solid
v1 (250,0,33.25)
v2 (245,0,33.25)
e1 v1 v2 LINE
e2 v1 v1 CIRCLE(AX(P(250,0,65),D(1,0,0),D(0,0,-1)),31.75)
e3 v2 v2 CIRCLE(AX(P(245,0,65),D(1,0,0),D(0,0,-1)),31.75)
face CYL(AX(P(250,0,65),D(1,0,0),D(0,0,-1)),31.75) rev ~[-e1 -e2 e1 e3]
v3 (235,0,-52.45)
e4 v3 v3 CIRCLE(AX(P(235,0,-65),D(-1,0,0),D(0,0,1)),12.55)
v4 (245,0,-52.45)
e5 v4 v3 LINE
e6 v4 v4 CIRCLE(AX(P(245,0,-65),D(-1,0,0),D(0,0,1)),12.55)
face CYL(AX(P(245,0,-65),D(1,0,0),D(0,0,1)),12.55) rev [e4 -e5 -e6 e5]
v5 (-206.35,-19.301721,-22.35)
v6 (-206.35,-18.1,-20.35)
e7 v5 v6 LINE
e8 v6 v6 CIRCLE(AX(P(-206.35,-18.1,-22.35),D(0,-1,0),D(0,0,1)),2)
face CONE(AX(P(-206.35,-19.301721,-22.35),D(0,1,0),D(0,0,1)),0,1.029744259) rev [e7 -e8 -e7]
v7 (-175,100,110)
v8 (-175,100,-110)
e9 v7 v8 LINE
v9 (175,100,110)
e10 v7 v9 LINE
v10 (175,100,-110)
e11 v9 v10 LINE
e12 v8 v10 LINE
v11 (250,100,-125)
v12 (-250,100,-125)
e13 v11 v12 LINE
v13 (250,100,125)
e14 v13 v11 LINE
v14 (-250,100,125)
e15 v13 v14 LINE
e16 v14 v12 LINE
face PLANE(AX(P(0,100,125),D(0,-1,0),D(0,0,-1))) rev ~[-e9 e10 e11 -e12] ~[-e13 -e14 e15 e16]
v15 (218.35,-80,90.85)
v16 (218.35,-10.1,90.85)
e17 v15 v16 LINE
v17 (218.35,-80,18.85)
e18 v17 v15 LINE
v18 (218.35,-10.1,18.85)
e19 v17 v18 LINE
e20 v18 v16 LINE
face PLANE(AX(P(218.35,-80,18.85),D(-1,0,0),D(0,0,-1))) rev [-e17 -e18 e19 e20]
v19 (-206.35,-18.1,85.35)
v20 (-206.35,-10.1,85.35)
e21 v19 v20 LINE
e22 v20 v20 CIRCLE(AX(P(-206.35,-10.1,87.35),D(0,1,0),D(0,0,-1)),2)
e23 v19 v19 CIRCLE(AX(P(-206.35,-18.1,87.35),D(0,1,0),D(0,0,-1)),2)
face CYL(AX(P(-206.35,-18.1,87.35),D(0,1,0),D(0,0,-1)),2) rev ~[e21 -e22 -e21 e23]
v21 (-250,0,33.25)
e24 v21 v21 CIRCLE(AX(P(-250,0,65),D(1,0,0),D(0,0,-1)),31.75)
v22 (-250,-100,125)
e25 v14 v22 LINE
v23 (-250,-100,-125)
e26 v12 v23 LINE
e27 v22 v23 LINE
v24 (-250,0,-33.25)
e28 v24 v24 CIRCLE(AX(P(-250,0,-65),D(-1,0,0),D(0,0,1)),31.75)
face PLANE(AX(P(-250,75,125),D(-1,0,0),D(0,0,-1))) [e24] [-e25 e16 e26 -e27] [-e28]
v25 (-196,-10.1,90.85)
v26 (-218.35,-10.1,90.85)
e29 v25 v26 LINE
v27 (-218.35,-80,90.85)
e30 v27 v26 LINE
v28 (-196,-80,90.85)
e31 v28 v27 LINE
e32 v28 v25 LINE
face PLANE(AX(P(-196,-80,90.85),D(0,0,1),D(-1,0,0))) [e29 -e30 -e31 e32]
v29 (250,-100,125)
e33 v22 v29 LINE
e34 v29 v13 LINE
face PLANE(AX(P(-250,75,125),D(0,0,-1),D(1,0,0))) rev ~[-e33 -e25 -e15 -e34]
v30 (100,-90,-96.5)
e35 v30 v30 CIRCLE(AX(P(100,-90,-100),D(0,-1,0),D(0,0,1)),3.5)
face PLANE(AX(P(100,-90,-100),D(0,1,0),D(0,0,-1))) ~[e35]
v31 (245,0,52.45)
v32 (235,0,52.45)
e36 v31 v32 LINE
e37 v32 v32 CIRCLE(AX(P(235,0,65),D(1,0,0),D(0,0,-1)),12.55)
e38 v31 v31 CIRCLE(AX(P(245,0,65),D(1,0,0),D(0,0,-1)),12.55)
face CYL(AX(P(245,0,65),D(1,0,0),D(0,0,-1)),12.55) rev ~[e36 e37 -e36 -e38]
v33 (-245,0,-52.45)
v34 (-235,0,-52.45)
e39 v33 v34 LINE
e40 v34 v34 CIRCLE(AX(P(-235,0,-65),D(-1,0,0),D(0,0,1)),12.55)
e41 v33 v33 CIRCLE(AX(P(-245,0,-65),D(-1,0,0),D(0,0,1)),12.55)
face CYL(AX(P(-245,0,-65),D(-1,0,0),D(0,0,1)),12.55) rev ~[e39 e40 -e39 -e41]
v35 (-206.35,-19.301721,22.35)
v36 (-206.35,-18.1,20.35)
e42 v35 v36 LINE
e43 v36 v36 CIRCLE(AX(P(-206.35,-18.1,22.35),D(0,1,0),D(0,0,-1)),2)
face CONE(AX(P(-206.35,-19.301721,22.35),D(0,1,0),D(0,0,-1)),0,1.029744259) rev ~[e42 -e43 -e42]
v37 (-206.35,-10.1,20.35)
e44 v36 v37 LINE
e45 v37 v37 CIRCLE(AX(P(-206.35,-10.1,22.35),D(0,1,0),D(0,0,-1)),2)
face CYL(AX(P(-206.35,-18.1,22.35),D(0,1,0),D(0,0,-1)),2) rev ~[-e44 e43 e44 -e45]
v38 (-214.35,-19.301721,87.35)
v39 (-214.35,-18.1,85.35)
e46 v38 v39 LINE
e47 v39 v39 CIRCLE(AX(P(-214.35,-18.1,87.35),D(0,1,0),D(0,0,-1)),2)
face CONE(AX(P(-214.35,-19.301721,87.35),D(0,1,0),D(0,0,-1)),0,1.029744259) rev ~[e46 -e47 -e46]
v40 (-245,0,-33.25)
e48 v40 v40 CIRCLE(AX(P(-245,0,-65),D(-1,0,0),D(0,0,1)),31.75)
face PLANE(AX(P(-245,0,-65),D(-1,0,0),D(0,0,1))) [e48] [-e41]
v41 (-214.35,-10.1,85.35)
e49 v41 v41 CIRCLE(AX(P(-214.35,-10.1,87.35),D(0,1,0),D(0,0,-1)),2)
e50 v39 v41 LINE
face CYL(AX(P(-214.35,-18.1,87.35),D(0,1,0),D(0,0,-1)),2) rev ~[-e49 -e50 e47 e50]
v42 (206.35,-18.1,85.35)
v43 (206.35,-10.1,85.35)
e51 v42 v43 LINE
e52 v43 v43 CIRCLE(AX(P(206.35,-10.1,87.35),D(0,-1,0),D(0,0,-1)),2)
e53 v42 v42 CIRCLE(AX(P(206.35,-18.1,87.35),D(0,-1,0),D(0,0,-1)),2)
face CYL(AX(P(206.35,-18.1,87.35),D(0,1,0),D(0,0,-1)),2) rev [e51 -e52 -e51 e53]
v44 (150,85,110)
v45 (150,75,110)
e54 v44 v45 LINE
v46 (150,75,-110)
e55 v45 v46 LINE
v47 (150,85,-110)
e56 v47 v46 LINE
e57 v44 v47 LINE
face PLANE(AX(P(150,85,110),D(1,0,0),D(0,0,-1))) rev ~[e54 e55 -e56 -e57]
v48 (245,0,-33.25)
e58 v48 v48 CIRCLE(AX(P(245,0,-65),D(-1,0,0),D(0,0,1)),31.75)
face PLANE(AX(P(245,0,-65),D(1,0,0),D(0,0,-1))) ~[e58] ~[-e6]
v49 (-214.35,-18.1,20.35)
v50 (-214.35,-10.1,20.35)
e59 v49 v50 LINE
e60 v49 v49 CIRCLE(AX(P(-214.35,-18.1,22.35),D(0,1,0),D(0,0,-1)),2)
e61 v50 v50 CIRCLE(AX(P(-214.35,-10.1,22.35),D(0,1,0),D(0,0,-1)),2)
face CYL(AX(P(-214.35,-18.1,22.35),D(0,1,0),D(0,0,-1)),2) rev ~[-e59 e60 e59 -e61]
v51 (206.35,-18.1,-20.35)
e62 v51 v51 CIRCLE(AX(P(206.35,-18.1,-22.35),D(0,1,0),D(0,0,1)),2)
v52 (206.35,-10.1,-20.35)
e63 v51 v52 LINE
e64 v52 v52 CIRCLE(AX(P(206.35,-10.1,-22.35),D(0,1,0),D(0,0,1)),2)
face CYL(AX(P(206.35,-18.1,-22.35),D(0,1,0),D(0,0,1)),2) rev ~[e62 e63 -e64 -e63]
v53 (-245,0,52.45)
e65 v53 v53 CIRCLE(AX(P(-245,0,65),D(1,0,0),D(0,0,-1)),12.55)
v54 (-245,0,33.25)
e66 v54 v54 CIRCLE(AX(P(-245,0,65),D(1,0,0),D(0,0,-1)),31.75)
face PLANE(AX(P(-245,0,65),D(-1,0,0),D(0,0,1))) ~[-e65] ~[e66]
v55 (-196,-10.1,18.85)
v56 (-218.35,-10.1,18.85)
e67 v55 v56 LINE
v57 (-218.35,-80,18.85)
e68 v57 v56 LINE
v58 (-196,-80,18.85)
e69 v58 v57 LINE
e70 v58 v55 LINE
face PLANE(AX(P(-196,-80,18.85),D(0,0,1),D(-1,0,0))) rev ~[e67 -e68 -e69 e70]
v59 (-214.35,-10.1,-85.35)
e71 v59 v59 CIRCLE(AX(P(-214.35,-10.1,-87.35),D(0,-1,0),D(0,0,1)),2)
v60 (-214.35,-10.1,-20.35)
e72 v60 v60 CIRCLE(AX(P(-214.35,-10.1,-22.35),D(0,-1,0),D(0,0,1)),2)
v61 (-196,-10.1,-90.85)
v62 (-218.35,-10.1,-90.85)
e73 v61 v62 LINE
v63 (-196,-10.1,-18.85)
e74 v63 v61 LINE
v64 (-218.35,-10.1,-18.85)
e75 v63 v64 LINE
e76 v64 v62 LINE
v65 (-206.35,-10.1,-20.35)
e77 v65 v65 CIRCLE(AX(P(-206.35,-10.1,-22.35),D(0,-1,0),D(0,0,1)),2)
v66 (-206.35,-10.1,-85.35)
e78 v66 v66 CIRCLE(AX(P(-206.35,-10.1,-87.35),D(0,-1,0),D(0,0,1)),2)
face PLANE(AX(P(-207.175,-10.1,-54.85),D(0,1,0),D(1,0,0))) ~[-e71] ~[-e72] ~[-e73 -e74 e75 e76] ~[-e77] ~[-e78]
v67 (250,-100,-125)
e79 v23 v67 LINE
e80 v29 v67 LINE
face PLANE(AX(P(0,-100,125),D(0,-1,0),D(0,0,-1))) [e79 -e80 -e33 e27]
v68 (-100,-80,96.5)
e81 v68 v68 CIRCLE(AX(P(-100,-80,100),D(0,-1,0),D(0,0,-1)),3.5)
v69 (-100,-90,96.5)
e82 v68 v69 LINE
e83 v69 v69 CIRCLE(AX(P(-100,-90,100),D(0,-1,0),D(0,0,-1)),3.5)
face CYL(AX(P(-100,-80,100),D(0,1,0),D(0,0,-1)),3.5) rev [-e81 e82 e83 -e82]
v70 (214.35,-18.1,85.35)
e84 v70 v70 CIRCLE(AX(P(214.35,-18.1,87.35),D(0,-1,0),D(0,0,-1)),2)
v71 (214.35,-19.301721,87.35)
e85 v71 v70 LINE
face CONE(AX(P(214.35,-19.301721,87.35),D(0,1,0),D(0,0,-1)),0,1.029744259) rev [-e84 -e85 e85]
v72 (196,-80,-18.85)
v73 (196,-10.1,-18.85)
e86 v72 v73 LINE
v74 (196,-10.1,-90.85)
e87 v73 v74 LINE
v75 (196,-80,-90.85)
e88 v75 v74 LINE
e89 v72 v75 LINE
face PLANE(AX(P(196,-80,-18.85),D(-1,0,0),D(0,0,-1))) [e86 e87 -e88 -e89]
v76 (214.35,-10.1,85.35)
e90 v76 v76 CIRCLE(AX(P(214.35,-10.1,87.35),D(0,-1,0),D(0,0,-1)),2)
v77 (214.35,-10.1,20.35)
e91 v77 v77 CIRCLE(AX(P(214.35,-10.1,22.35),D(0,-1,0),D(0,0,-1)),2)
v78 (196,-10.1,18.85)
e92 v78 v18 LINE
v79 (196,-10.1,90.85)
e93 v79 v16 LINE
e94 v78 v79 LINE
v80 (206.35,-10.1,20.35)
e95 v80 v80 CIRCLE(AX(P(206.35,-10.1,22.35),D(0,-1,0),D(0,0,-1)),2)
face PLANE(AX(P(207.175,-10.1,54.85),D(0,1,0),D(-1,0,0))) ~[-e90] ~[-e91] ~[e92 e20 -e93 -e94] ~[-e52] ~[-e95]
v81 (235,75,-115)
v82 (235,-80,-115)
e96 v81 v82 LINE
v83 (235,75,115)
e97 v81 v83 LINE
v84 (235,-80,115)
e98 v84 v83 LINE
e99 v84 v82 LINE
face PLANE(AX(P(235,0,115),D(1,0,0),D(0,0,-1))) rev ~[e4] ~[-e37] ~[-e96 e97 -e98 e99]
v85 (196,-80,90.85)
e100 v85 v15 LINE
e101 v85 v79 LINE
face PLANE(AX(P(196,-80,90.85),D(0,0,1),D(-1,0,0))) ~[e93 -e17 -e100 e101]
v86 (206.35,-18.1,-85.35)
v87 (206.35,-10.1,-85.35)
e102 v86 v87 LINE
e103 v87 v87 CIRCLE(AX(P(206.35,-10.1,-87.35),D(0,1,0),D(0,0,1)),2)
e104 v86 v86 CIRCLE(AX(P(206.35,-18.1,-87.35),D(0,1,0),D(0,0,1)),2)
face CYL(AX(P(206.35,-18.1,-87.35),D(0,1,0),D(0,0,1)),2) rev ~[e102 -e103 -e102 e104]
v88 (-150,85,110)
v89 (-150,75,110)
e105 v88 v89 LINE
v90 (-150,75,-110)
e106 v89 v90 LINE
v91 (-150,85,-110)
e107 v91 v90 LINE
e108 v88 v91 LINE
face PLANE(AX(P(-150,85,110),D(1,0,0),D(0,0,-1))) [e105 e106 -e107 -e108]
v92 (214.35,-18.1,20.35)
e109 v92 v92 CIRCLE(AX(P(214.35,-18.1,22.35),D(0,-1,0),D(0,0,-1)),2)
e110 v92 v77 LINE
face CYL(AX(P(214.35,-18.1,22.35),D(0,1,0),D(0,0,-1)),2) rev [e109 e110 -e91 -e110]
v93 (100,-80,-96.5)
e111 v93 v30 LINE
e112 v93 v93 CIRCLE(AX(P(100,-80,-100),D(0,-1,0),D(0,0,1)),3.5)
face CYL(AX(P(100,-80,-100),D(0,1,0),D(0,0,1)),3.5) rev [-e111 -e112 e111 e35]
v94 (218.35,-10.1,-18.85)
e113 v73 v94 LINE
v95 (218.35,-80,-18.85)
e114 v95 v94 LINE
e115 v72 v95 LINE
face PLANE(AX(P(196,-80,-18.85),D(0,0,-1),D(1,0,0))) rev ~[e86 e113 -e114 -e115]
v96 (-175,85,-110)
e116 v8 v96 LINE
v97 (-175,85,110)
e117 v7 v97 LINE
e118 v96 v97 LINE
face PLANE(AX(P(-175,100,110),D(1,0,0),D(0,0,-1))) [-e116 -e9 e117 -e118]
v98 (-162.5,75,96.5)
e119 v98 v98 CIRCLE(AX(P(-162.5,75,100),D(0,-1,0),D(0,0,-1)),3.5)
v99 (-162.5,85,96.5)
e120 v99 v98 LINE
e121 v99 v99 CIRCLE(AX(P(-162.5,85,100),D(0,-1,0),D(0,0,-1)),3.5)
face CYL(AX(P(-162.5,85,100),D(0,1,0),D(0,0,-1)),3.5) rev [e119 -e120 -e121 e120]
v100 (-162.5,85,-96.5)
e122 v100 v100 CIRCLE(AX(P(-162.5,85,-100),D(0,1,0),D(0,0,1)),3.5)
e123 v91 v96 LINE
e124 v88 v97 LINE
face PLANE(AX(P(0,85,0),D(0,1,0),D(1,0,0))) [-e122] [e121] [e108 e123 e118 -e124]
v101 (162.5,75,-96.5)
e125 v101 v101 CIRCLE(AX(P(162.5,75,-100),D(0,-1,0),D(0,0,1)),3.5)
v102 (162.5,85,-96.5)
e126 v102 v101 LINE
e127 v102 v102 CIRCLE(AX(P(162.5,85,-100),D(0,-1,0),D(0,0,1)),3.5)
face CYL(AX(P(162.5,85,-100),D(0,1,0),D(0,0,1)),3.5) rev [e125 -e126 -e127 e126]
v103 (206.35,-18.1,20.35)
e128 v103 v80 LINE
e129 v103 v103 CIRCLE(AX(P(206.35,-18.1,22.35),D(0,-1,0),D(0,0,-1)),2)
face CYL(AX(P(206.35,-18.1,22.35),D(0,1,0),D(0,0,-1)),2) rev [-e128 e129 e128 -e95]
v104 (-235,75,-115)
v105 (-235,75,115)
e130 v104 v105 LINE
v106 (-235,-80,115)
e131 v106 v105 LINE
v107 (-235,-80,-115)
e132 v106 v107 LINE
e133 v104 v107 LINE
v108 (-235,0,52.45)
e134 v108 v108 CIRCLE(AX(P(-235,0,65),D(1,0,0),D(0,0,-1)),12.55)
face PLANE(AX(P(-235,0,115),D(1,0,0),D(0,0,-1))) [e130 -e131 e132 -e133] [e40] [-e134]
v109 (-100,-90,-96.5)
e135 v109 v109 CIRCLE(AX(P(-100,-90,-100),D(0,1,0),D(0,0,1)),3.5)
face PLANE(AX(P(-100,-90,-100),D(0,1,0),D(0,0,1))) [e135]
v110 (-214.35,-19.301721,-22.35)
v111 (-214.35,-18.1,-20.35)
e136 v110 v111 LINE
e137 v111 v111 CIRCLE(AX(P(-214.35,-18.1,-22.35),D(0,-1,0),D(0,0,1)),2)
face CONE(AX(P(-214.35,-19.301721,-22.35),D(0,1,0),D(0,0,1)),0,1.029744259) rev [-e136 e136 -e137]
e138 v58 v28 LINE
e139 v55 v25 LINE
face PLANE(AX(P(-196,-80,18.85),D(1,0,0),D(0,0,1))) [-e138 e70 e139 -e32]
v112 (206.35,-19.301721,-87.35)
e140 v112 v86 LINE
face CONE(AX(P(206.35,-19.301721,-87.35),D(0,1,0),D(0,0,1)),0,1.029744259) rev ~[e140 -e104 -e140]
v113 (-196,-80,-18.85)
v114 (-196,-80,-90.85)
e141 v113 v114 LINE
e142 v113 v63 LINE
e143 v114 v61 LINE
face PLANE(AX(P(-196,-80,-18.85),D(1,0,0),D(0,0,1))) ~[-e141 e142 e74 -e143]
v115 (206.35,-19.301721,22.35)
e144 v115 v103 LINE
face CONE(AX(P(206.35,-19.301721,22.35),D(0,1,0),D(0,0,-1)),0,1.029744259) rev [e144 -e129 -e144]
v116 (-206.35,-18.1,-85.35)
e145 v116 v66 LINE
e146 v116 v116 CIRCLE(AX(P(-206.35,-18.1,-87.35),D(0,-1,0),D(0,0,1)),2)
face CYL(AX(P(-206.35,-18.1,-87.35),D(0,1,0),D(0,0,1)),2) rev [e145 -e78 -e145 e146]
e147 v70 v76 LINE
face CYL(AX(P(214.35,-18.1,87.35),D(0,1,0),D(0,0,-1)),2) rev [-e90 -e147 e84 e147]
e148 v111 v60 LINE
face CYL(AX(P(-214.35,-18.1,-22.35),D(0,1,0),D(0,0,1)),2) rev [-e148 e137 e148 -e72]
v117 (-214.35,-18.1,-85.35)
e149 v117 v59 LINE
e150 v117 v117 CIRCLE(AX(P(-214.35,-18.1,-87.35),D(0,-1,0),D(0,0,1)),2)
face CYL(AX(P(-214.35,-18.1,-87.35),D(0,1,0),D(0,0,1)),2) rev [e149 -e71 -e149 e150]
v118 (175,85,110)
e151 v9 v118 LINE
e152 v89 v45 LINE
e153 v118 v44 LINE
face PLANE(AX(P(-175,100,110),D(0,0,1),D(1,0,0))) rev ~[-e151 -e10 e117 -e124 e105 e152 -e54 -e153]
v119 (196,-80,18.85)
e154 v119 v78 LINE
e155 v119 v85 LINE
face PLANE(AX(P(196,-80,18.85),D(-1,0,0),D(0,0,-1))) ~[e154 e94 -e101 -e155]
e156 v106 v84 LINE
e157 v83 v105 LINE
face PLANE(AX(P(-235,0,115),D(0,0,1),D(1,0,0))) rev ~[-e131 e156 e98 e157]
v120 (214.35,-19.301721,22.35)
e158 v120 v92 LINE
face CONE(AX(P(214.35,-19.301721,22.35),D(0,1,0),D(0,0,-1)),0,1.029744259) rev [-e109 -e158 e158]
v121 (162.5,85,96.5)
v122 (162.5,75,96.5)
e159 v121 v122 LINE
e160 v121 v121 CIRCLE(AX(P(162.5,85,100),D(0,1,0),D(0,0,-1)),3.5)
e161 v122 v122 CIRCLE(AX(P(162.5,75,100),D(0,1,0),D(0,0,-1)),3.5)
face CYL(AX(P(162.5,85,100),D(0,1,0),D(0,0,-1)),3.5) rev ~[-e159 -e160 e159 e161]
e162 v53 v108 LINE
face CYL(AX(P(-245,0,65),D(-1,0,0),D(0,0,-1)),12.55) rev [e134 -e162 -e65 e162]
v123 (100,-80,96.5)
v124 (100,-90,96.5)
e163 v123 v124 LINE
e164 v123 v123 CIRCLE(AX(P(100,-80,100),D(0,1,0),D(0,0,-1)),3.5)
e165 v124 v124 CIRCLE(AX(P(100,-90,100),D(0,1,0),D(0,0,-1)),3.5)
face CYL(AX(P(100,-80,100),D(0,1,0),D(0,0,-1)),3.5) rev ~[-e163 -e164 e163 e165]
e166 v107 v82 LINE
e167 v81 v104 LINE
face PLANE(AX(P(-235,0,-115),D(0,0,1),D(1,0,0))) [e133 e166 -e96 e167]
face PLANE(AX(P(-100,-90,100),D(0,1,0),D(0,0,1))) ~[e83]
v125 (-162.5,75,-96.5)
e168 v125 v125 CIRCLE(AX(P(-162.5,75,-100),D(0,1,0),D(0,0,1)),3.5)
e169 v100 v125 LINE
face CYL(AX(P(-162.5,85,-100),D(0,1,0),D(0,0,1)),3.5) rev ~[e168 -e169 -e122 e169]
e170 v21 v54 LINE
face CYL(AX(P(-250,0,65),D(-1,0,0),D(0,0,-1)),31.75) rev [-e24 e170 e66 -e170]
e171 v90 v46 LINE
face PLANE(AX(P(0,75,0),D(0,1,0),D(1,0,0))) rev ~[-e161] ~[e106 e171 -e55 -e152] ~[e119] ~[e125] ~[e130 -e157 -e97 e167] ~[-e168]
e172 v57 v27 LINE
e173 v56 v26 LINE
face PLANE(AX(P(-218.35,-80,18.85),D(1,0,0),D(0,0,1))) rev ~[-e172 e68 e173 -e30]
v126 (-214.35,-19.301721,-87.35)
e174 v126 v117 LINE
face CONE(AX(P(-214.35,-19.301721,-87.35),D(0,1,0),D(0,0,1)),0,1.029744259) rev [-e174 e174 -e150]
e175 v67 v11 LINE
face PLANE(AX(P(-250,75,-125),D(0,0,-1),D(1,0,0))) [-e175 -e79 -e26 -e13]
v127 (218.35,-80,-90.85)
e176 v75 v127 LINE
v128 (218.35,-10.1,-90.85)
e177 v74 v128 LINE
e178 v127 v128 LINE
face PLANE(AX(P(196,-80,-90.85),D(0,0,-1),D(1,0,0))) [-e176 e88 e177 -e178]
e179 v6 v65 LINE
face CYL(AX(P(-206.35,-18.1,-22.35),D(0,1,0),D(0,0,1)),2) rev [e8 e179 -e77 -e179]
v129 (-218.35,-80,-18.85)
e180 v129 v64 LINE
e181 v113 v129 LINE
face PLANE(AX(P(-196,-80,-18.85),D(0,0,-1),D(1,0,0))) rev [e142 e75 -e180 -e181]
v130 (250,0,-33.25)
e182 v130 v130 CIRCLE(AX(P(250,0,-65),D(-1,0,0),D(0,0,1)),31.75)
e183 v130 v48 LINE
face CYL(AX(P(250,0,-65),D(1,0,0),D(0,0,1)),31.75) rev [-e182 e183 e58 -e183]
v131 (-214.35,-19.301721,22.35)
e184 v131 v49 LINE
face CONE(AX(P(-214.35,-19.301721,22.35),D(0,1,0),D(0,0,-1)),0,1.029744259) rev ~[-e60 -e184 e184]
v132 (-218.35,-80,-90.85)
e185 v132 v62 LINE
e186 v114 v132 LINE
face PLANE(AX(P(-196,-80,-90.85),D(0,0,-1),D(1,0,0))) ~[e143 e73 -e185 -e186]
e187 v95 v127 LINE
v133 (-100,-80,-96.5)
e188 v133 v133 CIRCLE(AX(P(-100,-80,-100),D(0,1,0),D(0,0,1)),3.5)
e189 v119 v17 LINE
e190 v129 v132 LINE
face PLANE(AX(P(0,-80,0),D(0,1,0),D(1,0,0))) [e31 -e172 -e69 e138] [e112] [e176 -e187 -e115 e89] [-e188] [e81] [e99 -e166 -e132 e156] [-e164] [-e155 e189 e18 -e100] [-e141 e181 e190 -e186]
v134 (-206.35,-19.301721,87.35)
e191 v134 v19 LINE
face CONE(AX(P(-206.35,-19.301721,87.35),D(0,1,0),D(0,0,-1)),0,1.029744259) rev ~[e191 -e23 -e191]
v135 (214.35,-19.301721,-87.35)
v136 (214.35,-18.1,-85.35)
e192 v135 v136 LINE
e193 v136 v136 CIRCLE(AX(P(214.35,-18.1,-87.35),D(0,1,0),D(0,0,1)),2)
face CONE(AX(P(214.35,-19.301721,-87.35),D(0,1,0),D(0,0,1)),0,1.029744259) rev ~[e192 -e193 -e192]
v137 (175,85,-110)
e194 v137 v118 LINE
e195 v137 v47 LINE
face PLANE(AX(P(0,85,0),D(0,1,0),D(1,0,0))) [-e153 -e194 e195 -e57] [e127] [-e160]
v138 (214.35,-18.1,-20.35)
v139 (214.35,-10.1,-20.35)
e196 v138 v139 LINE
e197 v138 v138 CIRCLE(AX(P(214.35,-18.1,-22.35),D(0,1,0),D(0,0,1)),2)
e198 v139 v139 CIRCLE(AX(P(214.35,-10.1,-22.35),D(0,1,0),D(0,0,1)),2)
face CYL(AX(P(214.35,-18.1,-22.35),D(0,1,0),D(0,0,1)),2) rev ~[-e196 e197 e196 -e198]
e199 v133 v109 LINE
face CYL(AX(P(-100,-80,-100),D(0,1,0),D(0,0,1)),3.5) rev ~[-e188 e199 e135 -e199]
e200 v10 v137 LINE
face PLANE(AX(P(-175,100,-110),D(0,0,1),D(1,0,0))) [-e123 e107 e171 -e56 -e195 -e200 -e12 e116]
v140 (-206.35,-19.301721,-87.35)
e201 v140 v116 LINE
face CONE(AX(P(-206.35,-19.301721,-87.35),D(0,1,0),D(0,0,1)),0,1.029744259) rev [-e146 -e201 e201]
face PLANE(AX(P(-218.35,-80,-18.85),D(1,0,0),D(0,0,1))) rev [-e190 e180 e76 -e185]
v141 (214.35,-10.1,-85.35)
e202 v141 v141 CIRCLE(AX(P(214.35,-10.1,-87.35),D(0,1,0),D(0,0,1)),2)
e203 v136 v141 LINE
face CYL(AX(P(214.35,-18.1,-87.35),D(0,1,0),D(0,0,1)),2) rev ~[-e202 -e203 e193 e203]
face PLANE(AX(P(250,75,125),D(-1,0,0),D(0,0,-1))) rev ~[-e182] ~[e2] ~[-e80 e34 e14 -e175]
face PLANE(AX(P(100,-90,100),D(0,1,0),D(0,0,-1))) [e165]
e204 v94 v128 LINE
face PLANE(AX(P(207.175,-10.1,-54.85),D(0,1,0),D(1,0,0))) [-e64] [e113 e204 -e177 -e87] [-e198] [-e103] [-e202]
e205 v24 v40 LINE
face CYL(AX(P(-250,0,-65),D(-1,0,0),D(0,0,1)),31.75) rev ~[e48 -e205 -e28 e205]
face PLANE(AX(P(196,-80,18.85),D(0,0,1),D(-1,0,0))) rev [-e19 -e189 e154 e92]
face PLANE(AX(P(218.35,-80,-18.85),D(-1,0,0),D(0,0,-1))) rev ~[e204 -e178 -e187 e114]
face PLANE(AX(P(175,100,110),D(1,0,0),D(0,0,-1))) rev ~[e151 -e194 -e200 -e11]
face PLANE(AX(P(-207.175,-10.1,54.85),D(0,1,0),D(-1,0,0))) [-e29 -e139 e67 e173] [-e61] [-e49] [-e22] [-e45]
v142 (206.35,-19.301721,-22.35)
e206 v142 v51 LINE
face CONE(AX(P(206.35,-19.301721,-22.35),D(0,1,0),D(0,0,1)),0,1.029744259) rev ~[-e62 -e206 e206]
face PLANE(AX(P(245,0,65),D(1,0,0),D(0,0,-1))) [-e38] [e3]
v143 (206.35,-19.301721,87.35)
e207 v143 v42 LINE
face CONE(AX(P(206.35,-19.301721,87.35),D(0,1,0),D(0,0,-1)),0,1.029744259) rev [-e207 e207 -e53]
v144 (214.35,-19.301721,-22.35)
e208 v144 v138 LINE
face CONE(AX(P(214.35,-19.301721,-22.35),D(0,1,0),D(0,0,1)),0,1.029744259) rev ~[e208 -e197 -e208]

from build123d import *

# Parameters (mm, degrees)
SKETCH1_W                      = 250
SKETCH1_H                      = 200
BOSS_EXTRUDE1_DEPTH            = 250
SKETCH7_W                      = 470
SKETCH7_H                      = 230
CUT_EXTRUDE4_DEPTH             = 80
SKETCH5_R                      = 31.75
F_63_5MM_DIA_SERVO_DEPTH       = 5
MIRROR13_COPY_1_SKETCH_R       = 31.75
MIRROR13_COPY_1_DEPTH          = 5
SKETCH10_W                     = 350
SKETCH10_H                     = 220
CUT_EXTRUDE5_DEPTH             = 20
SKETCH15_W                     = 500
SKETCH15_H                     = 250
BOSS_EXTRUDE2_DEPTH            = 10
SKETCH18_W                     = 300
SKETCH18_H                     = 220
CUT_EXTRUDE11_DEPTH            = 10
SKETCH19_R                     = 3.5
CUT_EXTRUDE12_DEPTH            = 10
MIRROR15_COPY_1_SKETCH_R       = 3.5
MIRROR15_COPY_1_DEPTH          = 10
SKETCH20_R                     = 3.5
CUT_EXTRUDE13_DEPTH            = 10
MIRROR17_COPY_1_SKETCH_R       = 3.5
MIRROR17_COPY_1_DEPTH          = 10
SKETCH22_R                     = 12.55
CUT_EXTRUDE14_DEPTH            = 10
MIRROR19_COPY_1_SKETCH_R       = 12.55
MIRROR19_COPY_1_DEPTH          = 10
SKETCH23_W                     = 22.35
SKETCH23_H                     = 72
BOSS_EXTRUDE3_DEPTH            = 69.9
MIRROR21_COPY_1_SKETCH_W       = 22.35
MIRROR21_COPY_1_SKETCH_H       = 72
MIRROR21_COPY_1_DEPTH          = 69.9
F_1_0MM_DOWEL_HOLE1_AT_2_COUNT = 2
F_1_0MM_DOWEL_HOLE1_AT_2_PITCH = 8
F_1_0MM_DOWEL_HOLE1_AT_3_COUNT = 2
F_1_0MM_DOWEL_HOLE1_AT_3_PITCH = 65.49045732
F_1_0MM_DOWEL_HOLE1_AT_4_COUNT = 2
F_1_0MM_DOWEL_HOLE1_AT_4_PITCH = 65


with BuildPart() as part:
    # Sketch1 → Boss-Extrude1 (new, symmetric)
    with BuildSketch(Plane(origin=(0, 0, 0), x_dir=(0, 0, -1), z_dir=(1, 0, 0))):
        Rectangle(SKETCH1_W, SKETCH1_H)
    extrude(amount=BOSS_EXTRUDE1_DEPTH, both=True)

    # Sketch7 → Cut-Extrude4 (cut, symmetric)
    with BuildSketch(Plane(origin=(0, 0, 0), x_dir=(1, 0, 0), z_dir=(0, 1, 0))):
        Rectangle(SKETCH7_W, SKETCH7_H)
    extrude(amount=CUT_EXTRUDE4_DEPTH, both=True, mode=Mode.SUBTRACT)

    # Sketch5 → 63.5mm_dia_servo (cut)
    with BuildSketch(Plane(origin=(250, 0, 0), x_dir=(0, 0, -1), z_dir=(1, 0, 0))):
        with Locations((-65, 0)):
            Circle(SKETCH5_R)
    f_63_5mm_dia_servo = extrude(amount=-F_63_5MM_DIA_SERVO_DEPTH, mode=Mode.SUBTRACT)

    # Mirror12: 63.5mm_dia_servo across plane
    add(f_63_5mm_dia_servo.mirror(Plane.XY), mode=Mode.SUBTRACT)

    # Mirror13: 63.5mm_dia_servo across plane
    add(f_63_5mm_dia_servo.mirror(Plane(origin=(0, 0, 0), x_dir=(0, 0, 1), z_dir=(1, 0, 0))), mode=Mode.SUBTRACT)

    # Mirror13 copy 1 sketch → Mirror13 copy 1 (cut)
    with BuildSketch(Plane.ZY.offset(250)):
        with Locations((-65, 0)):
            Circle(MIRROR13_COPY_1_SKETCH_R)
    extrude(amount=-MIRROR13_COPY_1_DEPTH, mode=Mode.SUBTRACT)

    # Sketch10 → Cut-Extrude5 (cut)
    with BuildSketch(Plane(origin=(0, 100, 0), x_dir=(1, 0, 0), z_dir=(0, 1, 0))):
        Rectangle(SKETCH10_W, SKETCH10_H)
    extrude(amount=-CUT_EXTRUDE5_DEPTH, mode=Mode.SUBTRACT)

    # Sketch15 → Boss-Extrude2 (add)
    with BuildSketch(Plane(origin=(0, 75, 0), x_dir=(1, 0, 0), z_dir=(0, 1, 0))):
        Rectangle(SKETCH15_W, SKETCH15_H)
    extrude(amount=BOSS_EXTRUDE2_DEPTH)

    # Sketch18 → Cut-Extrude11 (cut)
    with BuildSketch(Plane(origin=(0, 85, 0), x_dir=(1, 0, 0), z_dir=(0, 1, 0))):
        Rectangle(SKETCH18_W, SKETCH18_H)
    extrude(amount=-CUT_EXTRUDE11_DEPTH, mode=Mode.SUBTRACT)

    # Sketch19 → Cut-Extrude12 (cut)
    with BuildSketch(Plane(origin=(0, 85, 0), x_dir=(1, 0, 0), z_dir=(0, 1, 0))):
        with Locations(Location((-162.5, 100, 0), (0, 0, 270))):
            Circle(SKETCH19_R)
    cut_extrude12 = extrude(amount=-CUT_EXTRUDE12_DEPTH, mode=Mode.SUBTRACT)

    # Mirror14: Cut-Extrude12 across plane
    add(cut_extrude12.mirror(Plane.XY), mode=Mode.SUBTRACT)

    # Mirror15: Cut-Extrude12 across plane
    add(cut_extrude12.mirror(Plane(origin=(0, 0, 0), x_dir=(0, 0, 1), z_dir=(1, 0, 0))), mode=Mode.SUBTRACT)

    # Mirror15 copy 1 sketch → Mirror15 copy 1 (cut)
    with BuildSketch(Plane(origin=(0, 85, 0), x_dir=(-1, 0, 0), z_dir=(0, 1, 0))):
        with Locations(Location((-162.5, 100, 0), (0, 0, 270))):
            Circle(MIRROR15_COPY_1_SKETCH_R)
    extrude(amount=-MIRROR15_COPY_1_DEPTH, mode=Mode.SUBTRACT)

    # Sketch20 → Cut-Extrude13 (cut)
    with BuildSketch(Plane(origin=(0, -80, 0), x_dir=(1, 0, 0), z_dir=(0, 1, 0))):
        with Locations(Location((-100, 100, 0), (0, 0, 270))):
            Circle(SKETCH20_R)
    cut_extrude13 = extrude(amount=-CUT_EXTRUDE13_DEPTH, mode=Mode.SUBTRACT)

    # Mirror16: Cut-Extrude13 across plane
    add(cut_extrude13.mirror(Plane.XY), mode=Mode.SUBTRACT)

    # Mirror17: Cut-Extrude13 across plane
    add(cut_extrude13.mirror(Plane(origin=(0, 0, 0), x_dir=(0, 0, 1), z_dir=(1, 0, 0))), mode=Mode.SUBTRACT)

    # Mirror17 copy 1 sketch → Mirror17 copy 1 (cut)
    with BuildSketch(Plane(origin=(0, -80, 0), x_dir=(-1, 0, 0), z_dir=(0, 1, 0))):
        with Locations(Location((-100, 100, 0), (0, 0, 270))):
            Circle(MIRROR17_COPY_1_SKETCH_R)
    extrude(amount=-MIRROR17_COPY_1_DEPTH, mode=Mode.SUBTRACT)

    # Sketch22 → Cut-Extrude14 (cut)
    with BuildSketch(Plane(origin=(245, 0, 0), x_dir=(0, 0, -1), z_dir=(1, 0, 0))):
        with Locations((-65, 0)):
            Circle(SKETCH22_R)
    cut_extrude14 = extrude(amount=-CUT_EXTRUDE14_DEPTH, mode=Mode.SUBTRACT)

    # Mirror18: Cut-Extrude14 across plane
    add(cut_extrude14.mirror(Plane(origin=(0, 0, 0), x_dir=(0, 0, 1), z_dir=(1, 0, 0))), mode=Mode.SUBTRACT)

    # Mirror19: Cut-Extrude14 across plane
    add(cut_extrude14.mirror(Plane.XY), mode=Mode.SUBTRACT)

    # Mirror19 copy 1 sketch → Mirror19 copy 1 (cut)
    with BuildSketch(Plane.ZY.offset(245)):
        with Locations((-65, 0)):
            Circle(MIRROR19_COPY_1_SKETCH_R)
    extrude(amount=-MIRROR19_COPY_1_DEPTH, mode=Mode.SUBTRACT)

    # Sketch23 → Boss-Extrude3 (add)
    with BuildSketch(Plane(origin=(0, -80, 0), x_dir=(1, 0, 0), z_dir=(0, 1, 0))):
        with Locations((207.175, 54.85)):
            Rectangle(SKETCH23_W, SKETCH23_H)
    boss_extrude3 = extrude(amount=BOSS_EXTRUDE3_DEPTH)

    # Mirror20: Boss-Extrude3 across plane
    add(boss_extrude3.mirror(Plane(origin=(0, 0, 0), x_dir=(0, 0, 1), z_dir=(1, 0, 0))))

    # Mirror21: Boss-Extrude3 across plane
    add(boss_extrude3.mirror(Plane.XY))

    # Mirror21 copy 1 sketch → Mirror21 copy 1 (add)
    with BuildSketch(Plane(origin=(0, -80, 0), x_dir=(-1, 0, 0), z_dir=(0, 1, 0))):
        with Locations((207.175, 54.85)):
            Rectangle(MIRROR21_COPY_1_SKETCH_W, MIRROR21_COPY_1_SKETCH_H)
    extrude(amount=MIRROR21_COPY_1_DEPTH)

    # Sketch29 → Ø1.0mm Dowel Hole1 (revolve, cut)
    with BuildSketch(Plane(origin=(-214.35, -10.1, -87.35), x_dir=(0, 0, 1), z_dir=(1, 0, 0))):
        Polygon((0, 0), (0, 9.201721238), (2, 8), (2, 0), align=None)
    f_1_0mm_dowel_hole1 = revolve(axis=Axis((-214.35, -3.75, -87.35), (0, -1, 0)), mode=Mode.SUBTRACT)

    # Ø1.0mm Dowel Hole1 at 2: Ø1.0mm Dowel Hole1 ×2
    with Locations(*[(i * F_1_0MM_DOWEL_HOLE1_AT_2_PITCH, 0, 0) for i in range(1, F_1_0MM_DOWEL_HOLE1_AT_2_COUNT)]):
        add(f_1_0mm_dowel_hole1, mode=Mode.SUBTRACT)

    # Ø1.0mm Dowel Hole1 at 3: Ø1.0mm Dowel Hole1 ×2
    with Locations(*[Vector(0.12215520134321664, 0, 0.9925110109136313) * (i * F_1_0MM_DOWEL_HOLE1_AT_3_PITCH) for i in range(1, F_1_0MM_DOWEL_HOLE1_AT_3_COUNT)]):
        add(f_1_0mm_dowel_hole1, mode=Mode.SUBTRACT)

    # Ø1.0mm Dowel Hole1 at 4: Ø1.0mm Dowel Hole1 ×2
    with Locations(*[(0, 0, i * F_1_0MM_DOWEL_HOLE1_AT_4_PITCH) for i in range(1, F_1_0MM_DOWEL_HOLE1_AT_4_COUNT)]):
        add(f_1_0mm_dowel_hole1, mode=Mode.SUBTRACT)

    # Mirror22: Ø1.0mm Dowel Hole1 across plane
    add(f_1_0mm_dowel_hole1.mirror(Plane.XY), mode=Mode.SUBTRACT)

    # Mirror22 copy 1 sketch → Mirror22 copy 1 (revolve, cut)
    with BuildSketch(Plane(origin=(-206.35, -10.1, 87.35), x_dir=(0, 0, -1), z_dir=(1, 0, 0))):
        Polygon((0, 0), (0, -9.201721238), (2, -8), (2, 0), align=None)
    revolve(axis=Axis((-206.35, -3.75, 87.35), (0, 1, 0)), mode=Mode.SUBTRACT)

    # Mirror22 copy 2 sketch → Mirror22 copy 2 (revolve, cut)
    with BuildSketch(Plane(origin=(-206.35, -10.1, 22.35), x_dir=(0, 0, -1), z_dir=(1, 0, 0))):
        Polygon((0, 0), (0, -9.201721238), (2, -8), (2, 0), align=None)
    revolve(axis=Axis((-206.35, -3.75, 22.35), (0, 1, 0)), mode=Mode.SUBTRACT)

    # Mirror22 copy 3 sketch → Mirror22 copy 3 (revolve, cut)
    with BuildSketch(Plane(origin=(-214.35, -10.1, 22.35), x_dir=(0, 0, -1), z_dir=(1, 0, 0))):
        Polygon((0, 0), (0, -9.201721238), (2, -8), (2, 0), align=None)
    revolve(axis=Axis((-214.35, -3.75, 22.35), (0, 1, 0)), mode=Mode.SUBTRACT)

    # Mirror23: Ø1.0mm Dowel Hole1 across plane
    add(f_1_0mm_dowel_hole1.mirror(Plane(origin=(0, 0, 0), x_dir=(0, 0, 1), z_dir=(1, 0, 0))), mode=Mode.SUBTRACT)

    # Mirror23 copy 1 sketch → Mirror23 copy 1 (revolve, cut)
    with BuildSketch(Plane(origin=(206.35, -10.1, -87.35), x_dir=(0, 0, 1), z_dir=(-1, 0, 0))):
        Polygon((0, 0), (0, -9.201721238), (2, -8), (2, 0), align=None)
    revolve(axis=Axis((206.35, -3.75, -87.35), (0, 1, 0)), mode=Mode.SUBTRACT)

    # Mirror23 copy 2 sketch → Mirror23 copy 2 (revolve, cut)
    with BuildSketch(Plane(origin=(206.35, -10.1, -22.35), x_dir=(0, 0, 1), z_dir=(-1, 0, 0))):
        Polygon((0, 0), (0, -9.201721238), (2, -8), (2, 0), align=None)
    revolve(axis=Axis((206.35, -3.75, -22.35), (0, 1, 0)), mode=Mode.SUBTRACT)

    # Mirror23 copy 3 sketch → Mirror23 copy 3 (revolve, cut)
    with BuildSketch(Plane(origin=(214.35, -10.1, -22.35), x_dir=(0, 0, 1), z_dir=(-1, 0, 0))):
        Polygon((0, 0), (0, -9.201721238), (2, -8), (2, 0), align=None)
    revolve(axis=Axis((214.35, -3.75, -22.35), (0, 1, 0)), mode=Mode.SUBTRACT)

    # Mirror23 copy 4 sketch → Mirror23 copy 4 (revolve, cut)
    with BuildSketch(Plane(origin=(214.35, -10.1, 87.35), x_dir=(0, 0, -1), z_dir=(-1, 0, 0))):
        Polygon((0, 0), (0, 9.201721238), (2, 8), (2, 0), align=None)
    revolve(axis=Axis((214.35, -3.75, 87.35), (0, -1, 0)), mode=Mode.SUBTRACT)

    # Mirror23 copy 5 sketch → Mirror23 copy 5 (revolve, cut)
    with BuildSketch(Plane(origin=(206.35, -10.1, 87.35), x_dir=(0, 0, -1), z_dir=(-1, 0, 0))):
        Polygon((0, 0), (0, 9.201721238), (2, 8), (2, 0), align=None)
    revolve(axis=Axis((206.35, -3.75, 87.35), (0, -1, 0)), mode=Mode.SUBTRACT)

    # Mirror23 copy 6 sketch → Mirror23 copy 6 (revolve, cut)
    with BuildSketch(Plane(origin=(206.35, -10.1, 22.35), x_dir=(0, 0, -1), z_dir=(-1, 0, 0))):
        Polygon((0, 0), (0, 9.201721238), (2, 8), (2, 0), align=None)
    revolve(axis=Axis((206.35, -3.75, 22.35), (0, -1, 0)), mode=Mode.SUBTRACT)

    # Mirror23 copy 7 sketch → Mirror23 copy 7 (revolve, cut)
    with BuildSketch(Plane(origin=(214.35, -10.1, 22.35), x_dir=(0, 0, -1), z_dir=(-1, 0, 0))):
        Polygon((0, 0), (0, 9.201721238), (2, 8), (2, 0), align=None)
    revolve(axis=Axis((214.35, -3.75, 22.35), (0, -1, 0)), mode=Mode.SUBTRACT)


solid = part.part
